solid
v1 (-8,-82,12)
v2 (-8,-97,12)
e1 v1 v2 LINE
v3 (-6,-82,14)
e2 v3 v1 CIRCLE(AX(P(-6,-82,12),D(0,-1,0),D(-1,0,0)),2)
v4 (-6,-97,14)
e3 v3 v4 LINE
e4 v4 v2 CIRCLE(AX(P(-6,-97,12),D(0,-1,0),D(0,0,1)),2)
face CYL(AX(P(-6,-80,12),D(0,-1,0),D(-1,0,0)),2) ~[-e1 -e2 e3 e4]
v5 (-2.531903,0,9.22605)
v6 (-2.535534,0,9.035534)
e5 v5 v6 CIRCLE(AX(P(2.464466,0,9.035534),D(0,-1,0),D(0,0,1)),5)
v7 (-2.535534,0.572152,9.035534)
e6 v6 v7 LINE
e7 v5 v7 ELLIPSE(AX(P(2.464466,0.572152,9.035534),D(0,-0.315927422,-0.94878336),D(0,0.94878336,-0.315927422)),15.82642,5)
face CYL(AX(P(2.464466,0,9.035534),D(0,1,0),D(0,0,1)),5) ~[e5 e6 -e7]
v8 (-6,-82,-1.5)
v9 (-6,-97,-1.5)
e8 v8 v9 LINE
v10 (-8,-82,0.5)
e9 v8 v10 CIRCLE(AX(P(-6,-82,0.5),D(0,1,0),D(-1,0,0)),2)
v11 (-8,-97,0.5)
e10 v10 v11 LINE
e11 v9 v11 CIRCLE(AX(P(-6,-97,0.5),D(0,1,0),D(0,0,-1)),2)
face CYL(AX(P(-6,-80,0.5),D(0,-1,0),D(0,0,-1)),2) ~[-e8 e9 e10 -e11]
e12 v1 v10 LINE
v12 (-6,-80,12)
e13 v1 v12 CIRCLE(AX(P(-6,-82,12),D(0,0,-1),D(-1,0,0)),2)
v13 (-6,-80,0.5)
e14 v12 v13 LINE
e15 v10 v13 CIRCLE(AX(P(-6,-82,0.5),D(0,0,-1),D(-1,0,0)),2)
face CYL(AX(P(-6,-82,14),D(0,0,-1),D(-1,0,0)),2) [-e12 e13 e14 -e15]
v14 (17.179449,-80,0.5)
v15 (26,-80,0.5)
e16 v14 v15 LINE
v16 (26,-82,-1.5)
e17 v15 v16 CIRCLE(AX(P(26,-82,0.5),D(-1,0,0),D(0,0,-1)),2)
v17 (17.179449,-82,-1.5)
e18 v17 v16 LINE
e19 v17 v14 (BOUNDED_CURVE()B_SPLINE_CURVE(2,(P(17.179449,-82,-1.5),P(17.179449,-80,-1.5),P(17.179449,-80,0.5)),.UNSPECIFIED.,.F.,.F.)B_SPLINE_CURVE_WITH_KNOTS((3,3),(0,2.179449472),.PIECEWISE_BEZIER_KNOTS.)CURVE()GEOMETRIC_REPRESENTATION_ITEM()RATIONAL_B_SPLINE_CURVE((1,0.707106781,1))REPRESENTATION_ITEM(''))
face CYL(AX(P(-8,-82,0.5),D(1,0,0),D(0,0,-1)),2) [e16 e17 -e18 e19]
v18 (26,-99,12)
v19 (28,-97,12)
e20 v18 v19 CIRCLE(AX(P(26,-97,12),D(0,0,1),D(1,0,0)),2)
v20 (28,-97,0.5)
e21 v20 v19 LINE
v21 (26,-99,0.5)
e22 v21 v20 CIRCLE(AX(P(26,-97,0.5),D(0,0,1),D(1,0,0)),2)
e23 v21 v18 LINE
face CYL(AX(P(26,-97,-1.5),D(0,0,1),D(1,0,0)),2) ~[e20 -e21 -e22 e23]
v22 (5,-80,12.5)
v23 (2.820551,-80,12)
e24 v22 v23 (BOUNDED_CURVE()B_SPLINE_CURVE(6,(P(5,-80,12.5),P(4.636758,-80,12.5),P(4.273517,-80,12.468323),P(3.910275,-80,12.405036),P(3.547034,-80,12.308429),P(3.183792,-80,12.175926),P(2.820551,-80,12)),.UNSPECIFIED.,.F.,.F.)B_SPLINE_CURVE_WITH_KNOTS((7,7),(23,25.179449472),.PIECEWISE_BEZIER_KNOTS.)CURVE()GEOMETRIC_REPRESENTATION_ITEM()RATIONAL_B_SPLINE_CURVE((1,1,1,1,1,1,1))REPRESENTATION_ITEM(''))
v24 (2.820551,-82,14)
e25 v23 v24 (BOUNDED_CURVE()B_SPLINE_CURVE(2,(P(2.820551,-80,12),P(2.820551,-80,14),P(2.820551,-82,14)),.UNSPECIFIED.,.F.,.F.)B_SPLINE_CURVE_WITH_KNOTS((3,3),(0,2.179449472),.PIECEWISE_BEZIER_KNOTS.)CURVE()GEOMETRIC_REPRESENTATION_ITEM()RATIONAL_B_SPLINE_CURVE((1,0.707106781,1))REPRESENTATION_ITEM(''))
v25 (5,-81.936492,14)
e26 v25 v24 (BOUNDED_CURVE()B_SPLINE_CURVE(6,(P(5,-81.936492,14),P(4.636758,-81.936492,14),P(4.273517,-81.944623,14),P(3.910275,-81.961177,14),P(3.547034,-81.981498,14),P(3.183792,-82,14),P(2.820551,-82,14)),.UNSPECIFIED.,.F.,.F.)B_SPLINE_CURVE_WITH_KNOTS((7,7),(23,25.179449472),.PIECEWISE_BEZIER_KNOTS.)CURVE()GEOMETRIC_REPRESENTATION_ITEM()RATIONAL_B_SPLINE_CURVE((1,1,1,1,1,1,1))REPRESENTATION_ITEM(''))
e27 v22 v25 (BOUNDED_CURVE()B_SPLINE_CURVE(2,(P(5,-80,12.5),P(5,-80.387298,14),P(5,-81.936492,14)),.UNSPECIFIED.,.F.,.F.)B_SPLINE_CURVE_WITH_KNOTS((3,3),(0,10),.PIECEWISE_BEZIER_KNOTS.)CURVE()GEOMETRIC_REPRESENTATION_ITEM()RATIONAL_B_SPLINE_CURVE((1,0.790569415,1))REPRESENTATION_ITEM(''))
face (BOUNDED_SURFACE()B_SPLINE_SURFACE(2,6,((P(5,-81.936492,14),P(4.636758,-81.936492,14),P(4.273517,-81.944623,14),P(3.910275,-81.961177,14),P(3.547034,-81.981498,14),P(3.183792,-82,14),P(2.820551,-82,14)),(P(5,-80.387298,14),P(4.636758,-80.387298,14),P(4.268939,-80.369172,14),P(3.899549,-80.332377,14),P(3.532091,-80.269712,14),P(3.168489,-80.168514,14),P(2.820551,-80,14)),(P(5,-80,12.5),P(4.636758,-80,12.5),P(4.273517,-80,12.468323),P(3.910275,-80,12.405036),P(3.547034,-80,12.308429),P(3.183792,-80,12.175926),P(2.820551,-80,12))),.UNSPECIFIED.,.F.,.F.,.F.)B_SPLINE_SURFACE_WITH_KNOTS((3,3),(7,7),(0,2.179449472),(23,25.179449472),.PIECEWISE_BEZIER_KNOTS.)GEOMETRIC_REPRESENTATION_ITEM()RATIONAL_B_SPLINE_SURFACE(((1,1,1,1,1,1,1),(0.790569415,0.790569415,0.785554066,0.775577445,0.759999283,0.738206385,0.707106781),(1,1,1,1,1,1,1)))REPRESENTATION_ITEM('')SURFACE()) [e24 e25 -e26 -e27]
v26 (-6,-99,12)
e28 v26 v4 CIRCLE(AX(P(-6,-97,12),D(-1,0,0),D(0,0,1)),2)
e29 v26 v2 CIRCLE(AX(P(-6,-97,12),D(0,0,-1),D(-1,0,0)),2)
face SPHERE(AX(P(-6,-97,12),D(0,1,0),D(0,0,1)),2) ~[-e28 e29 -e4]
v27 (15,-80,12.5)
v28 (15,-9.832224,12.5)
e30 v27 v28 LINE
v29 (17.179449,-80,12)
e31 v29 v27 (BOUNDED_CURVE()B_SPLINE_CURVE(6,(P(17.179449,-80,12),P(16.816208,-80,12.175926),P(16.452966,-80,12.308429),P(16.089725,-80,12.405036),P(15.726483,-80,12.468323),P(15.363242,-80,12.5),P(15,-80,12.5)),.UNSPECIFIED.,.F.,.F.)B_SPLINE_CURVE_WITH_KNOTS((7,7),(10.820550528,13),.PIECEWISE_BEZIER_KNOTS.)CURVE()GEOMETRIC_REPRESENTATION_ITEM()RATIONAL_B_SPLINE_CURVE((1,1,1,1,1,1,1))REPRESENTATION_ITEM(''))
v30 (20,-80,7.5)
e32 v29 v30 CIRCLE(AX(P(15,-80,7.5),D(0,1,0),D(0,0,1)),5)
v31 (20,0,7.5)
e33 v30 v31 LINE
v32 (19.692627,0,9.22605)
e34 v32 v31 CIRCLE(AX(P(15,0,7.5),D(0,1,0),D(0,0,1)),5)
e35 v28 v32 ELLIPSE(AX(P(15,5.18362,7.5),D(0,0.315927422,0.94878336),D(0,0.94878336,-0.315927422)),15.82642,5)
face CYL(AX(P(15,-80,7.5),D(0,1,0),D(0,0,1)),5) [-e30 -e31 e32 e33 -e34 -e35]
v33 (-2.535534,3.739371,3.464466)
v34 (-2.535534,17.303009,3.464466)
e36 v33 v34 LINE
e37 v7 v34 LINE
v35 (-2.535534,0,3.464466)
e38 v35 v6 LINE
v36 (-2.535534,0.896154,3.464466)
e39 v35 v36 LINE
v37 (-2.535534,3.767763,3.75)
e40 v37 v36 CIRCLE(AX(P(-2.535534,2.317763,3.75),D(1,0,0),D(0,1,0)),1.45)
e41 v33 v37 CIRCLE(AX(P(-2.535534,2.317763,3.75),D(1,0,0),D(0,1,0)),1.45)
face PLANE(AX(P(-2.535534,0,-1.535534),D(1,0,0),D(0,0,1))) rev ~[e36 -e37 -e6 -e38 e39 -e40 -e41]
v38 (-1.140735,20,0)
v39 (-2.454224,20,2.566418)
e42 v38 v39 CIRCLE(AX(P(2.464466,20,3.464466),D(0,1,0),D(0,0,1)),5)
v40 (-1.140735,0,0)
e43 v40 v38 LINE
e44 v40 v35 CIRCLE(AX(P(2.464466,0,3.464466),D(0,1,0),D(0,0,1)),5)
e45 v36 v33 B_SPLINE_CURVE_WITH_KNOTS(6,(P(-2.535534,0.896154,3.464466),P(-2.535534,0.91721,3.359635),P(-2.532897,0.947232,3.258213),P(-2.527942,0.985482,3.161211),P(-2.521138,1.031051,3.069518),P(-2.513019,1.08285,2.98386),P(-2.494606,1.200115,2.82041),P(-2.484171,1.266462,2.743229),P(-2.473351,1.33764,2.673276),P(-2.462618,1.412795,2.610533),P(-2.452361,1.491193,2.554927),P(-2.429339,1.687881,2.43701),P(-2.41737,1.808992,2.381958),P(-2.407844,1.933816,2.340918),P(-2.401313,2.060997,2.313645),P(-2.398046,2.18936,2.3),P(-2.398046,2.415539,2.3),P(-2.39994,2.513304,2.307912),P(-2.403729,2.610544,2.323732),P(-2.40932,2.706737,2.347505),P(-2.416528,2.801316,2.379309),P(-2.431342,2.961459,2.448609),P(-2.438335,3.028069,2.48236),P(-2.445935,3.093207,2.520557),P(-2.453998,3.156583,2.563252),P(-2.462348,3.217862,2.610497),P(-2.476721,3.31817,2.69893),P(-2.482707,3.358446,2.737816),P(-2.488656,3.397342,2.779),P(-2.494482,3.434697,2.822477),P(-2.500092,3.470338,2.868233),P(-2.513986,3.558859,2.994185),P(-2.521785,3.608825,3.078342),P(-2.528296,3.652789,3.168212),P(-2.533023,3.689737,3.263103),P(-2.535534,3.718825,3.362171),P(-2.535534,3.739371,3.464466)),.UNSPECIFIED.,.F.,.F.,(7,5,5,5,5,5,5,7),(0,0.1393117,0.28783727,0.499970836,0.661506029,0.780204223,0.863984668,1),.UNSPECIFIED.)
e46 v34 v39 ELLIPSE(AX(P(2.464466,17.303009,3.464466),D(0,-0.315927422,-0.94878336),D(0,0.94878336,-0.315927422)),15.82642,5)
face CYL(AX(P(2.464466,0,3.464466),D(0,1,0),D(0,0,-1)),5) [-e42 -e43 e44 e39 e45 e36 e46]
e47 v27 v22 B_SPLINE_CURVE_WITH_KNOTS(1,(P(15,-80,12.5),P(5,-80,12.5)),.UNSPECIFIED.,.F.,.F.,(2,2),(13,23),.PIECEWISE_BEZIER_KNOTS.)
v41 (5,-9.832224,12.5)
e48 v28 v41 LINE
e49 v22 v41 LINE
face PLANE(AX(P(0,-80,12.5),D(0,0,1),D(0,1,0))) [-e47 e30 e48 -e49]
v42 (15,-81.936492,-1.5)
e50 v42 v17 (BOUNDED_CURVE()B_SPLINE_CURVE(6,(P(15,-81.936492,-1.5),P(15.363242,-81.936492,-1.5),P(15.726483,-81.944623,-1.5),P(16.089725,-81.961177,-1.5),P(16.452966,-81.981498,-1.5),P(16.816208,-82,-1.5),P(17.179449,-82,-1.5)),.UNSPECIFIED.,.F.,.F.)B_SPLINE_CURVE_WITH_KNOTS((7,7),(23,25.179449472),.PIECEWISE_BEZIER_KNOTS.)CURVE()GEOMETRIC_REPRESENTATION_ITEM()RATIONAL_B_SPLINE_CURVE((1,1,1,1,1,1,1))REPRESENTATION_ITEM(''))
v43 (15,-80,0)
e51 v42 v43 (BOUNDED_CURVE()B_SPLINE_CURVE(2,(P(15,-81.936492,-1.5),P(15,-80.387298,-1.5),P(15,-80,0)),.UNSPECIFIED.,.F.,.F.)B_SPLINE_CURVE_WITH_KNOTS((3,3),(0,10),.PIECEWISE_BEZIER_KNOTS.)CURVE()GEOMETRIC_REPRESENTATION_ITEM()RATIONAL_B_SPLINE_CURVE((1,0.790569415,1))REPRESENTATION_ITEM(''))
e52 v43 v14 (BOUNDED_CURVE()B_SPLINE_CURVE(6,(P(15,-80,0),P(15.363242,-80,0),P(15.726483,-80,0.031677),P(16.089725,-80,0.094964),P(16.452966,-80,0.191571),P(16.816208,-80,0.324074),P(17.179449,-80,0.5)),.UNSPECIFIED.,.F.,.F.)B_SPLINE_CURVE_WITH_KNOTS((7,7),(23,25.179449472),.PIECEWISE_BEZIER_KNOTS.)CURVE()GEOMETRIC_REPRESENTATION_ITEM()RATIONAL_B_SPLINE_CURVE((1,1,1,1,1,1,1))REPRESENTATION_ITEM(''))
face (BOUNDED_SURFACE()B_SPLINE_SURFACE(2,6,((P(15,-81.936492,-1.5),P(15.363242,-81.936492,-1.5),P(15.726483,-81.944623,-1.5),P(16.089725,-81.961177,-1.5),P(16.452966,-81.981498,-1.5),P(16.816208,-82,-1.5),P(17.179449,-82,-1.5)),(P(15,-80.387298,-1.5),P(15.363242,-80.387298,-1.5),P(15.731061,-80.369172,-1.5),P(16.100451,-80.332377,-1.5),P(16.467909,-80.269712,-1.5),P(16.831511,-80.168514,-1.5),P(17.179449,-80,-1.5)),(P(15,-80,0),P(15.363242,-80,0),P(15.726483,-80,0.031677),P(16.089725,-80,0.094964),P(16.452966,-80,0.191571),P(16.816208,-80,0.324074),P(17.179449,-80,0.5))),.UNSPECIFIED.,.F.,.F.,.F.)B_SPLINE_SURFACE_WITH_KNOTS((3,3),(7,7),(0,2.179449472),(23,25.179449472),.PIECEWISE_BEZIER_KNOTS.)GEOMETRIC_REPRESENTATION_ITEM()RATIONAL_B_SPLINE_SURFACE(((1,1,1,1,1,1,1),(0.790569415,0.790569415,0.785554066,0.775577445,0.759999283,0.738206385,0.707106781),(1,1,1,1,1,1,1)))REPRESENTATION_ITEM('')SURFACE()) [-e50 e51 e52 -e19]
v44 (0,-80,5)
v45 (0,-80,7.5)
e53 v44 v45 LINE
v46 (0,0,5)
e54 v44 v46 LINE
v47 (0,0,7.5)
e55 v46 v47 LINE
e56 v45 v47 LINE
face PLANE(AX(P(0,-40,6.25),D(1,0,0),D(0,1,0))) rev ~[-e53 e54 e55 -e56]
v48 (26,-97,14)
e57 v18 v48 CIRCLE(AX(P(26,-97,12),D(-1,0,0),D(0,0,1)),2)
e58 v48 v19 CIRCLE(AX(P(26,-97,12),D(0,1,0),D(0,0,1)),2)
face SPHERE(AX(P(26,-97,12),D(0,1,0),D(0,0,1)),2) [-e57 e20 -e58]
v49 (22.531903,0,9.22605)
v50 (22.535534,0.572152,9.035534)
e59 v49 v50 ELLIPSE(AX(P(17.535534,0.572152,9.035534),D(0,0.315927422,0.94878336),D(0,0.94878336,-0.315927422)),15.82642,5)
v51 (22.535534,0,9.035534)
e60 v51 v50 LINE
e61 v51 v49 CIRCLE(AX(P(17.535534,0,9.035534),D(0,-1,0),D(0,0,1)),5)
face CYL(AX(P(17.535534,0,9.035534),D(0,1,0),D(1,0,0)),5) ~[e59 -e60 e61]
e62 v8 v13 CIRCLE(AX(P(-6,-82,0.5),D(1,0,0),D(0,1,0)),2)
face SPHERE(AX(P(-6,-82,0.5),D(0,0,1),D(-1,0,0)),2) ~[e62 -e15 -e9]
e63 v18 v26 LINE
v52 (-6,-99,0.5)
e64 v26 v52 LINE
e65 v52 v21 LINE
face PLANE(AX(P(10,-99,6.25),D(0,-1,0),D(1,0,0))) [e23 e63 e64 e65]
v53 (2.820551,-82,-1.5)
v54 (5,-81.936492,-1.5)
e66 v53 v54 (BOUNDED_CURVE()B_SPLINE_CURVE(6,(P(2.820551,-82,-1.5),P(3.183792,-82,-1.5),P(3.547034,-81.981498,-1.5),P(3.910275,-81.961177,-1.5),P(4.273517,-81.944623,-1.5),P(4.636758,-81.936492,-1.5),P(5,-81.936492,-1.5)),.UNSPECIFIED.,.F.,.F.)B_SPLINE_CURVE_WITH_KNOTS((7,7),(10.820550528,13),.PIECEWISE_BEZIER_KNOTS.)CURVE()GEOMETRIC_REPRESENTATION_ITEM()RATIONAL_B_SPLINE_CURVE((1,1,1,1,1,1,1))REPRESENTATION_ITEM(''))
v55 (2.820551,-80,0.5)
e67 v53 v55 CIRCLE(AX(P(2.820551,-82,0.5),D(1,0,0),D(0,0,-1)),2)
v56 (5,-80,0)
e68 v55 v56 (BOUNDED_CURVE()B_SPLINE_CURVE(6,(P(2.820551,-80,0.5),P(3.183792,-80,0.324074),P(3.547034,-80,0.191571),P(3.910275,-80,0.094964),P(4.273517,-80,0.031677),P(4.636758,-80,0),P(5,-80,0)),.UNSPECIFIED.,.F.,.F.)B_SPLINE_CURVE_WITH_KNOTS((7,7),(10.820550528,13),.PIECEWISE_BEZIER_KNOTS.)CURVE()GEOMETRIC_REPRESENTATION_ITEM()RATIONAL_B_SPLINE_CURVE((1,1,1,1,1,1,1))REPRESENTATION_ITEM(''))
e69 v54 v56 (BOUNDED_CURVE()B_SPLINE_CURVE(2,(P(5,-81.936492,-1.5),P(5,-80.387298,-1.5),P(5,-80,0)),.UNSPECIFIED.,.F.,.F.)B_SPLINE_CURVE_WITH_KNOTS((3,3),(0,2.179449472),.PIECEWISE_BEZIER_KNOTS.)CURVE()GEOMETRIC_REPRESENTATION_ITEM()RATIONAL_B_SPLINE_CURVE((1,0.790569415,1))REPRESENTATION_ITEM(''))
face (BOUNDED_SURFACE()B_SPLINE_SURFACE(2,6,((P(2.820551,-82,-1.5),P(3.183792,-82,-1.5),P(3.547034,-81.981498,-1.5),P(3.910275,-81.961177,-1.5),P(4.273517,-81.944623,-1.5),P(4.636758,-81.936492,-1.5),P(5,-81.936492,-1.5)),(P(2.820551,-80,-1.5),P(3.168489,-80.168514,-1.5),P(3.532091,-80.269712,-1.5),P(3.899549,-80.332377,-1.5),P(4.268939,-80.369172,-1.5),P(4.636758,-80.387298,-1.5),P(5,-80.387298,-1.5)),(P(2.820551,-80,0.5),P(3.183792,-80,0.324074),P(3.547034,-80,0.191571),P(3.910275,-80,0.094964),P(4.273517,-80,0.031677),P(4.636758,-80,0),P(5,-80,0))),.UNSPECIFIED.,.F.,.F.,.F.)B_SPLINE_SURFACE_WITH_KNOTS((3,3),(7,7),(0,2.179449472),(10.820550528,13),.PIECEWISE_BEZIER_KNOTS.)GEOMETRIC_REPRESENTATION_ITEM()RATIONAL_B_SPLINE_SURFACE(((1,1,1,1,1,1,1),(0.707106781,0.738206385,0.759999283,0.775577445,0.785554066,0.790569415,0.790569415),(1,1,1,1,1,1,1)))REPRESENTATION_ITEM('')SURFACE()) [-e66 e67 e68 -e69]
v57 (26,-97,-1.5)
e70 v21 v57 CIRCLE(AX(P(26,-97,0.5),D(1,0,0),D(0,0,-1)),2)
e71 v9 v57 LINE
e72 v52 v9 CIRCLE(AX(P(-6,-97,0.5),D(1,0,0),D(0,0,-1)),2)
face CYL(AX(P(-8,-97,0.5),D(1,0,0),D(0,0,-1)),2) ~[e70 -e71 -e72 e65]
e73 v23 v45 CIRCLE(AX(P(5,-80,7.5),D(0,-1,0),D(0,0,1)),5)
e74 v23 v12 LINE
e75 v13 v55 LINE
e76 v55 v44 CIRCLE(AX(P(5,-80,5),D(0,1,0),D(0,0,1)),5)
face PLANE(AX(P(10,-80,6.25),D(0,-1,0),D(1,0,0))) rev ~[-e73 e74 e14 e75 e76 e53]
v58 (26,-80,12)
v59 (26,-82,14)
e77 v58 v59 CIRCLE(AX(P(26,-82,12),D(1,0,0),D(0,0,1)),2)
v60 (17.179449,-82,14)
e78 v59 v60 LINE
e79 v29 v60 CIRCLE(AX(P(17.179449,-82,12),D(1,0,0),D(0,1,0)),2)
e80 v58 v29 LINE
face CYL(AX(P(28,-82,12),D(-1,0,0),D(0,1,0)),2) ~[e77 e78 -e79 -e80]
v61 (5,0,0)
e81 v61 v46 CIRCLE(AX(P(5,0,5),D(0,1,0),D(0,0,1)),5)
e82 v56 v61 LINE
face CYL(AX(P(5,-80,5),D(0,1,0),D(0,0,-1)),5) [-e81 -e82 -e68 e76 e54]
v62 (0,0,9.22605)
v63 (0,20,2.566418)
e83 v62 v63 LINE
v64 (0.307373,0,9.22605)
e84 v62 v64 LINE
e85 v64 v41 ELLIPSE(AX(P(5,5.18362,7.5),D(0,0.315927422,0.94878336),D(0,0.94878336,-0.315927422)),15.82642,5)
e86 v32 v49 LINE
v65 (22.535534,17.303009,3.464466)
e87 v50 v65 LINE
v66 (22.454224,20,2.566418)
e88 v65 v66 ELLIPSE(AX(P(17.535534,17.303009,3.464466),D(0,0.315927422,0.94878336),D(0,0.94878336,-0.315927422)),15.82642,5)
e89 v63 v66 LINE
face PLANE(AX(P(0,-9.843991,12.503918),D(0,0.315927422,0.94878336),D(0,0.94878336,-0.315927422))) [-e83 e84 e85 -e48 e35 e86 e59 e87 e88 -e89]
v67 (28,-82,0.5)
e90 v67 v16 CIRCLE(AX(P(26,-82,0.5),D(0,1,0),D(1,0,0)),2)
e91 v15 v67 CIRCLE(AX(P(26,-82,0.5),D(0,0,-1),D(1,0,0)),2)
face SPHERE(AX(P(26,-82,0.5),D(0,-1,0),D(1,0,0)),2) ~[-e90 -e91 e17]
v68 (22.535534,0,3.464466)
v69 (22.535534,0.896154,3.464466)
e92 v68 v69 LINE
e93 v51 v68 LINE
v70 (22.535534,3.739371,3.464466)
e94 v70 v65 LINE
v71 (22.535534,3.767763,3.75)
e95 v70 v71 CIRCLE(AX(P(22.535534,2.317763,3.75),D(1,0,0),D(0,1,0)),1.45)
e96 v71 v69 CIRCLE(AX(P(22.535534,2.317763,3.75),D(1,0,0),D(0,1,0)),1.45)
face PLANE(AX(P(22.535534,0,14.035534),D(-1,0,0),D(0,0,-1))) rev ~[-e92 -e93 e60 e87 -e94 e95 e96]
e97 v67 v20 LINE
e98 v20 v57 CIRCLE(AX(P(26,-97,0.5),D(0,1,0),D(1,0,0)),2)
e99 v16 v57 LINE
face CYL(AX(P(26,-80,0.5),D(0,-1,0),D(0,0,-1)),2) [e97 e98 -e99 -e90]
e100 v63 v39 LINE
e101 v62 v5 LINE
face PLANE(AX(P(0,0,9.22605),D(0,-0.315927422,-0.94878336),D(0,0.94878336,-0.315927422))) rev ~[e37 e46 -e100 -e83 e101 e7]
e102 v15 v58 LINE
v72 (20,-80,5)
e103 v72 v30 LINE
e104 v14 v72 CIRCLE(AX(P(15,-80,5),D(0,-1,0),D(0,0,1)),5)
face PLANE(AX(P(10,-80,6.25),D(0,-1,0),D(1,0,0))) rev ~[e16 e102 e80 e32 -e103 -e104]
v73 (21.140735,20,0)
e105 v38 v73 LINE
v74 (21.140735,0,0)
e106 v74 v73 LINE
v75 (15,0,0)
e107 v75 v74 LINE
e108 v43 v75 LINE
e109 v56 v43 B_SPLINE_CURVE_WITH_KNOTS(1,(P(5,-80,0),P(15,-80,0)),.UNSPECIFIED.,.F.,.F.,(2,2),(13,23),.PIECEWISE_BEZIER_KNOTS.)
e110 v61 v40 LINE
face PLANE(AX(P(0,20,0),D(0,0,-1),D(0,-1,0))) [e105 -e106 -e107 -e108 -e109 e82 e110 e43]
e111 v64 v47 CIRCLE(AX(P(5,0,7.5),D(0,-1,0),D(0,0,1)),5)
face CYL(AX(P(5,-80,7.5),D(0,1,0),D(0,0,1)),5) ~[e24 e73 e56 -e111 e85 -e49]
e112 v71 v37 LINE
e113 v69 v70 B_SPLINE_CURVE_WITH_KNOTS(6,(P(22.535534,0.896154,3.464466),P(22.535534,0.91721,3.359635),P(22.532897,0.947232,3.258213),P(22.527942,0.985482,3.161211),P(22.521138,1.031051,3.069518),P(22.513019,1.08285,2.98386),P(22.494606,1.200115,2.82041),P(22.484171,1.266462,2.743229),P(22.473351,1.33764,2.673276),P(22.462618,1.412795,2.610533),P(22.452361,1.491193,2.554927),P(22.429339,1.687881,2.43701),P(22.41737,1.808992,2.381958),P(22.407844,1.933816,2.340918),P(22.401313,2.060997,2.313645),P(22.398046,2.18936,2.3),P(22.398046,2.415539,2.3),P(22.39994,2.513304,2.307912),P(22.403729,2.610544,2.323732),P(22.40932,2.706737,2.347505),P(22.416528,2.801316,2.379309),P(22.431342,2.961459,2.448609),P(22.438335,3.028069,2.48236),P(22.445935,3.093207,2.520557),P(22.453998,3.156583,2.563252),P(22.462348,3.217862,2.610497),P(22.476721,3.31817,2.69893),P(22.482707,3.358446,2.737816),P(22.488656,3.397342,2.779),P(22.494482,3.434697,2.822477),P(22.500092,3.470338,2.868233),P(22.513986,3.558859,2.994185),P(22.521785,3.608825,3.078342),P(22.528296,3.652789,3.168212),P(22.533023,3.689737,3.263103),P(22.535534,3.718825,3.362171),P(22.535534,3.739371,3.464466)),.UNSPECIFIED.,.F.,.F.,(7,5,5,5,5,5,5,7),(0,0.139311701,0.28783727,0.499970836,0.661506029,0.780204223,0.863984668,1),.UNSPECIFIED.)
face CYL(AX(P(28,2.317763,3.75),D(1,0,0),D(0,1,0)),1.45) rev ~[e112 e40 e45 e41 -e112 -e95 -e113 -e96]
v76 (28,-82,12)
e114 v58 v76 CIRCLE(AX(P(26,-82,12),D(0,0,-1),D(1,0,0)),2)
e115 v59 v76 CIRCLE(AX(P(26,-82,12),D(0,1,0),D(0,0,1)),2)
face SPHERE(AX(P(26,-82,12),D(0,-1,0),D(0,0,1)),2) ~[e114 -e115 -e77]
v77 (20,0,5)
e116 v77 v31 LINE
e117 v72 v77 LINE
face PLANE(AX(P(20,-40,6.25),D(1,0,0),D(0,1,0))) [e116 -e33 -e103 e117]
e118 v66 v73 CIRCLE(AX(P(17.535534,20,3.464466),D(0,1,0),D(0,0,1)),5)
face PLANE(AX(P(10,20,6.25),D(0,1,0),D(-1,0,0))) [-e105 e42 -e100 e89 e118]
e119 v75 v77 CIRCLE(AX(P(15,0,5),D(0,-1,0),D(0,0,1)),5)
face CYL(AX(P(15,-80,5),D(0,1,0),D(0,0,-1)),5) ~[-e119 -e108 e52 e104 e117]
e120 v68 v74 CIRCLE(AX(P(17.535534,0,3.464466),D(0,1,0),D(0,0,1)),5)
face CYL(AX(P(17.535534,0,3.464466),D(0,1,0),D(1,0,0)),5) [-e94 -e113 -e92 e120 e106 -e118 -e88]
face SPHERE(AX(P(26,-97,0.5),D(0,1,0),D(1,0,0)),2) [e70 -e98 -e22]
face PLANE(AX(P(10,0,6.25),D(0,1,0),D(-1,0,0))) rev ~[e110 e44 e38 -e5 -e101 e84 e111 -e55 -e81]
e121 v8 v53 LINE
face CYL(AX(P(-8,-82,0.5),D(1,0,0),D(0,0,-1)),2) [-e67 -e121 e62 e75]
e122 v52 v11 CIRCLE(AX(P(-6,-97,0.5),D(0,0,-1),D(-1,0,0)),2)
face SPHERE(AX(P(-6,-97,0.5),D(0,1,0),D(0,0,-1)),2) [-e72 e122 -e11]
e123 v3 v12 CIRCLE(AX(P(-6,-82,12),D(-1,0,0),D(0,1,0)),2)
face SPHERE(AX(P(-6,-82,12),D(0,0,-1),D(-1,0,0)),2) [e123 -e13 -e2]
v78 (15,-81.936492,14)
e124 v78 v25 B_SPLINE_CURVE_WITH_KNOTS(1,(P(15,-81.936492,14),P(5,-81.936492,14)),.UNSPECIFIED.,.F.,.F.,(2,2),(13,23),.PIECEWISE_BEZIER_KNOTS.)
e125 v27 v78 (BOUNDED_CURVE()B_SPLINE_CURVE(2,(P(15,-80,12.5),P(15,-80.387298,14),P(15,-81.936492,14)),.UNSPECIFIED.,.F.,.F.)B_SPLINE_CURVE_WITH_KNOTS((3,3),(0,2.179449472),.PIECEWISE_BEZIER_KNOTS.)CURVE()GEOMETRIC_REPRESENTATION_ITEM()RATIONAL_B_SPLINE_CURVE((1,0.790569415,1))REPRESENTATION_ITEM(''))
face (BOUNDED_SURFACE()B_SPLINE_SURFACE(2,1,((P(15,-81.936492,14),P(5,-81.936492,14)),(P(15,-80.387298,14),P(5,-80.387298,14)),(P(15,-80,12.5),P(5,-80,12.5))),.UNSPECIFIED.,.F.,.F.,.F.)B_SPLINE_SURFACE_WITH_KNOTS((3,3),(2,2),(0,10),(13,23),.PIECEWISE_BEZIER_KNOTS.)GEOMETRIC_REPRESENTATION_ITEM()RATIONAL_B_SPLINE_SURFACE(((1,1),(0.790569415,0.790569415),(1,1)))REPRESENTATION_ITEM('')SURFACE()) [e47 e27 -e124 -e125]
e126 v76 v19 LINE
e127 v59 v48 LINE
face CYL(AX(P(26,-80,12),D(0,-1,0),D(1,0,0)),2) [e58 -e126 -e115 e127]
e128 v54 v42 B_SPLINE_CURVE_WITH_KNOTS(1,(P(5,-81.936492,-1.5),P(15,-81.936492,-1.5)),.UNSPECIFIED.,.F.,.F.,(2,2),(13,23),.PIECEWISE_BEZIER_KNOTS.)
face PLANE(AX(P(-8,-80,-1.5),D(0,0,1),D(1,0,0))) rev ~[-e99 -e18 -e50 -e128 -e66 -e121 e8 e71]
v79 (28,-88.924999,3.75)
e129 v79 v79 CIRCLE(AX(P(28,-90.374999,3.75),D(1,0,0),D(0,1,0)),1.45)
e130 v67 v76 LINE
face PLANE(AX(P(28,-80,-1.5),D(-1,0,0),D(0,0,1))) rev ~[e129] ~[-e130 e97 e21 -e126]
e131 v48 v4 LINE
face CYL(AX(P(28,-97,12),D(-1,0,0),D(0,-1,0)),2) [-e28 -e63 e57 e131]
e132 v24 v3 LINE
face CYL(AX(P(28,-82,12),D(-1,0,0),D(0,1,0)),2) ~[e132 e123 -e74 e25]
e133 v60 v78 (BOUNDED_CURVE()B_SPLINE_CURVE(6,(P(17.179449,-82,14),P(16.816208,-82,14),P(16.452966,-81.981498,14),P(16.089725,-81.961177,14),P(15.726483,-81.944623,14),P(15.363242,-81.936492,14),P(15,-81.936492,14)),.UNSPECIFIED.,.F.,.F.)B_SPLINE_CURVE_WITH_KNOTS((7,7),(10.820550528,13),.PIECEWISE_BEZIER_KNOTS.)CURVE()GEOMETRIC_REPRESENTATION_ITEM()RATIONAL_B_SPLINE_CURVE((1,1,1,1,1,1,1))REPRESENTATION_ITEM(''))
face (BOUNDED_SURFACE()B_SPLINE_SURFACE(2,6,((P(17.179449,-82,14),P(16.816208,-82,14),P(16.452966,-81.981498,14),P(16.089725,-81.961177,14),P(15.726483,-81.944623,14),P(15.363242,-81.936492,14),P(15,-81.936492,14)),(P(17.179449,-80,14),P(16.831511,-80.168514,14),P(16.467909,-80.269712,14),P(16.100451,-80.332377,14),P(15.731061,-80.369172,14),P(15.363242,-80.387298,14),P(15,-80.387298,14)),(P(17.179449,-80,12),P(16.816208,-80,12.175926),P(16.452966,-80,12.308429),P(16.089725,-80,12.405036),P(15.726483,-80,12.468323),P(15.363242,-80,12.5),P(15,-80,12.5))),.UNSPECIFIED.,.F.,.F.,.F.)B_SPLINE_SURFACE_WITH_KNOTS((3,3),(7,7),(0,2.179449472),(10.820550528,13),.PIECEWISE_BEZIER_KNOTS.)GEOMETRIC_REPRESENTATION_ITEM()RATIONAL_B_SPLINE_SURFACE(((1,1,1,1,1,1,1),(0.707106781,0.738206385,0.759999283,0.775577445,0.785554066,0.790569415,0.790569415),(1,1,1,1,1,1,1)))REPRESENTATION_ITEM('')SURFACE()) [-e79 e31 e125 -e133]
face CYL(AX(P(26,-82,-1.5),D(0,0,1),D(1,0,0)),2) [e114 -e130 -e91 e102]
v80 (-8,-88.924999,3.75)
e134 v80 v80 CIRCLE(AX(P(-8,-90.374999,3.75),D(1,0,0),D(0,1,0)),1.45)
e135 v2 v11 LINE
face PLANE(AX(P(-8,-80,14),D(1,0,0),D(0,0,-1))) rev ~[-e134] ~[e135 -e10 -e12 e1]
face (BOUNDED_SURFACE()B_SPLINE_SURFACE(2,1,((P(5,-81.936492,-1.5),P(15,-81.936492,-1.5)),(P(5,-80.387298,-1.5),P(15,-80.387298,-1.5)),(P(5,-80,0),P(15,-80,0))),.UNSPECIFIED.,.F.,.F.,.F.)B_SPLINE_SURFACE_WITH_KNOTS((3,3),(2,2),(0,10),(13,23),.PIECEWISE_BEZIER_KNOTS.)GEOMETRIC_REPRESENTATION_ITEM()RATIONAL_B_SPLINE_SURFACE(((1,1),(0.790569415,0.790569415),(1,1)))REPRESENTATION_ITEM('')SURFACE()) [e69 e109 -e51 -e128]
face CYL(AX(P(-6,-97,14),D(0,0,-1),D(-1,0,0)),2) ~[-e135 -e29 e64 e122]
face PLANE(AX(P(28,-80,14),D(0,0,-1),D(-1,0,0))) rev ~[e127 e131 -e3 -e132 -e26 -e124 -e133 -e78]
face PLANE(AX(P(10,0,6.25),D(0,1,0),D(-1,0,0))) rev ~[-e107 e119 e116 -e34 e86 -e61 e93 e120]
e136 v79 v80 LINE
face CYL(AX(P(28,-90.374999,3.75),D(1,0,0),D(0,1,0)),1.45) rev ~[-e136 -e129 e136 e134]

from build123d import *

# Parameters (mm, degrees)
F0_W      = 80
F0_H      = 12.5
F1_DEPTH  = 20
F2_R      = 5
F4_DEPTH  = 20
F5_R      = 5
F7_DEPTH  = 25
F9_DEPTH  = 25
F10_W     = 20
F10_H     = 0.8859829484
F11_DEPTH = 25
F13_DEPTH = 19
F14_R     = 2
F15_R     = 1.45
F16_DEPTH = 100


with BuildPart() as f1:
    # F0 (on Right) → F1 (new body)
    with BuildSketch(Plane.YZ):
        with Locations((-40, 6.25)):
            Rectangle(F0_W, F0_H)
    extrude(amount=F1_DEPTH)

    # F2
    f2_edges = [f1.edges().sort_by_distance(p)[0] for p in [
        (20, -40, 12.5),
        (20, -40, 0),
        (0, -40, 12.5),
        (0, -40, 0),
    ]]
    fillet(f2_edges, radius=F2_R)

    # F3 (on face) → F4 (join)
    with BuildSketch(Plane(origin=(0, 0, 0), x_dir=(-1, 0, 0), z_dir=(0, 1, 0))):
        Polygon((-22.5355339059, 14.0355339059), (-22.5355339059, 11.0355339059), (-22.5355339059, -1.5355339059), (-18.5355339059, -1.5355339059), (2.5355339059, -1.5355339059), (2.5355339059, 11.0355339059), (2.5355339059, 14.0355339059), align=None)
    extrude(amount=F4_DEPTH)

    # F5
    f5_edges = [f1.edges().sort_by_distance(p)[0] for p in [
        (22.535534, 10, 14.035534),
        (22.535534, 10, -1.535534),
        (-2.535534, 10, -1.535534),
        (-2.535534, 10, 14.035534),
    ]]
    fillet(f5_edges, radius=F5_R)

    # F6 (on Right) → F7 (cut)
    with BuildSketch(Plane.YZ):
        Polygon((20, 0), (0, 0), (0, -2.4886932224), (20, -2.4886932224), (23.4880913049, -2.4886932224), (23.4486758709, 14.381791465), (20, 14.381791465), (-15.4835612513, 14.381791465), (-9.843991138, 12.5039182603), (20, 2.5664176792), align=None)
    extrude(amount=F7_DEPTH, mode=Mode.SUBTRACT)

    # F8 (on face) → F9 (cut)
    with BuildSketch(Plane.YZ):
        Polygon((0, 9.2260501226), (20, 2.5664176792), (20, 13.3859829484), (0, 13.3859829484), align=None)
    extrude(amount=-F9_DEPTH, mode=Mode.SUBTRACT)

    # F10 (on face) → F11 (cut)
    with BuildSketch(Plane.YZ):
        with Locations((10, -0.4429914742)):
            Rectangle(F10_W, F10_H)
    extrude(amount=-F11_DEPTH, mode=Mode.SUBTRACT)

    # F12 (on face) → F13 (join)
    with BuildSketch(Plane.XZ.offset(80)):
        Polygon((-8, 12.5), (-8, 0), (-8, -1.5), (28, -1.5), (28, 0), (28, 14), (-8, 14), align=None)
    extrude(amount=F13_DEPTH)

    # F14
    f14_edges = [f1.edges().sort_by_distance(p)[0] for p in [
        (-8, -80, 6.25),
        (28, -89.5, 14),
        (-8, -89.5, 14),
        (10, -80, 14),
        (10, -99, 14),
        (28, -89.5, -1.5),
        (28, -99, 6.25),
        (28, -80, 6.25),
        (-8, -89.5, -1.5),
        (10, -80, -1.5),
        (10, -99, -1.5),
        (-8, -99, 6.25),
    ]]
    fillet(f14_edges, radius=F14_R)

    # F15 (on face) → F16 (cut)
    with BuildSketch(Plane.YZ.offset(28)):
        with Locations((-90.3749987483, 3.750000149)):
            Circle(F15_R)
        with Locations((2.3177627008, 3.750000149)):
            Circle(F15_R)
    extrude(amount=-F16_DEPTH, mode=Mode.SUBTRACT)


solid = f1.part
